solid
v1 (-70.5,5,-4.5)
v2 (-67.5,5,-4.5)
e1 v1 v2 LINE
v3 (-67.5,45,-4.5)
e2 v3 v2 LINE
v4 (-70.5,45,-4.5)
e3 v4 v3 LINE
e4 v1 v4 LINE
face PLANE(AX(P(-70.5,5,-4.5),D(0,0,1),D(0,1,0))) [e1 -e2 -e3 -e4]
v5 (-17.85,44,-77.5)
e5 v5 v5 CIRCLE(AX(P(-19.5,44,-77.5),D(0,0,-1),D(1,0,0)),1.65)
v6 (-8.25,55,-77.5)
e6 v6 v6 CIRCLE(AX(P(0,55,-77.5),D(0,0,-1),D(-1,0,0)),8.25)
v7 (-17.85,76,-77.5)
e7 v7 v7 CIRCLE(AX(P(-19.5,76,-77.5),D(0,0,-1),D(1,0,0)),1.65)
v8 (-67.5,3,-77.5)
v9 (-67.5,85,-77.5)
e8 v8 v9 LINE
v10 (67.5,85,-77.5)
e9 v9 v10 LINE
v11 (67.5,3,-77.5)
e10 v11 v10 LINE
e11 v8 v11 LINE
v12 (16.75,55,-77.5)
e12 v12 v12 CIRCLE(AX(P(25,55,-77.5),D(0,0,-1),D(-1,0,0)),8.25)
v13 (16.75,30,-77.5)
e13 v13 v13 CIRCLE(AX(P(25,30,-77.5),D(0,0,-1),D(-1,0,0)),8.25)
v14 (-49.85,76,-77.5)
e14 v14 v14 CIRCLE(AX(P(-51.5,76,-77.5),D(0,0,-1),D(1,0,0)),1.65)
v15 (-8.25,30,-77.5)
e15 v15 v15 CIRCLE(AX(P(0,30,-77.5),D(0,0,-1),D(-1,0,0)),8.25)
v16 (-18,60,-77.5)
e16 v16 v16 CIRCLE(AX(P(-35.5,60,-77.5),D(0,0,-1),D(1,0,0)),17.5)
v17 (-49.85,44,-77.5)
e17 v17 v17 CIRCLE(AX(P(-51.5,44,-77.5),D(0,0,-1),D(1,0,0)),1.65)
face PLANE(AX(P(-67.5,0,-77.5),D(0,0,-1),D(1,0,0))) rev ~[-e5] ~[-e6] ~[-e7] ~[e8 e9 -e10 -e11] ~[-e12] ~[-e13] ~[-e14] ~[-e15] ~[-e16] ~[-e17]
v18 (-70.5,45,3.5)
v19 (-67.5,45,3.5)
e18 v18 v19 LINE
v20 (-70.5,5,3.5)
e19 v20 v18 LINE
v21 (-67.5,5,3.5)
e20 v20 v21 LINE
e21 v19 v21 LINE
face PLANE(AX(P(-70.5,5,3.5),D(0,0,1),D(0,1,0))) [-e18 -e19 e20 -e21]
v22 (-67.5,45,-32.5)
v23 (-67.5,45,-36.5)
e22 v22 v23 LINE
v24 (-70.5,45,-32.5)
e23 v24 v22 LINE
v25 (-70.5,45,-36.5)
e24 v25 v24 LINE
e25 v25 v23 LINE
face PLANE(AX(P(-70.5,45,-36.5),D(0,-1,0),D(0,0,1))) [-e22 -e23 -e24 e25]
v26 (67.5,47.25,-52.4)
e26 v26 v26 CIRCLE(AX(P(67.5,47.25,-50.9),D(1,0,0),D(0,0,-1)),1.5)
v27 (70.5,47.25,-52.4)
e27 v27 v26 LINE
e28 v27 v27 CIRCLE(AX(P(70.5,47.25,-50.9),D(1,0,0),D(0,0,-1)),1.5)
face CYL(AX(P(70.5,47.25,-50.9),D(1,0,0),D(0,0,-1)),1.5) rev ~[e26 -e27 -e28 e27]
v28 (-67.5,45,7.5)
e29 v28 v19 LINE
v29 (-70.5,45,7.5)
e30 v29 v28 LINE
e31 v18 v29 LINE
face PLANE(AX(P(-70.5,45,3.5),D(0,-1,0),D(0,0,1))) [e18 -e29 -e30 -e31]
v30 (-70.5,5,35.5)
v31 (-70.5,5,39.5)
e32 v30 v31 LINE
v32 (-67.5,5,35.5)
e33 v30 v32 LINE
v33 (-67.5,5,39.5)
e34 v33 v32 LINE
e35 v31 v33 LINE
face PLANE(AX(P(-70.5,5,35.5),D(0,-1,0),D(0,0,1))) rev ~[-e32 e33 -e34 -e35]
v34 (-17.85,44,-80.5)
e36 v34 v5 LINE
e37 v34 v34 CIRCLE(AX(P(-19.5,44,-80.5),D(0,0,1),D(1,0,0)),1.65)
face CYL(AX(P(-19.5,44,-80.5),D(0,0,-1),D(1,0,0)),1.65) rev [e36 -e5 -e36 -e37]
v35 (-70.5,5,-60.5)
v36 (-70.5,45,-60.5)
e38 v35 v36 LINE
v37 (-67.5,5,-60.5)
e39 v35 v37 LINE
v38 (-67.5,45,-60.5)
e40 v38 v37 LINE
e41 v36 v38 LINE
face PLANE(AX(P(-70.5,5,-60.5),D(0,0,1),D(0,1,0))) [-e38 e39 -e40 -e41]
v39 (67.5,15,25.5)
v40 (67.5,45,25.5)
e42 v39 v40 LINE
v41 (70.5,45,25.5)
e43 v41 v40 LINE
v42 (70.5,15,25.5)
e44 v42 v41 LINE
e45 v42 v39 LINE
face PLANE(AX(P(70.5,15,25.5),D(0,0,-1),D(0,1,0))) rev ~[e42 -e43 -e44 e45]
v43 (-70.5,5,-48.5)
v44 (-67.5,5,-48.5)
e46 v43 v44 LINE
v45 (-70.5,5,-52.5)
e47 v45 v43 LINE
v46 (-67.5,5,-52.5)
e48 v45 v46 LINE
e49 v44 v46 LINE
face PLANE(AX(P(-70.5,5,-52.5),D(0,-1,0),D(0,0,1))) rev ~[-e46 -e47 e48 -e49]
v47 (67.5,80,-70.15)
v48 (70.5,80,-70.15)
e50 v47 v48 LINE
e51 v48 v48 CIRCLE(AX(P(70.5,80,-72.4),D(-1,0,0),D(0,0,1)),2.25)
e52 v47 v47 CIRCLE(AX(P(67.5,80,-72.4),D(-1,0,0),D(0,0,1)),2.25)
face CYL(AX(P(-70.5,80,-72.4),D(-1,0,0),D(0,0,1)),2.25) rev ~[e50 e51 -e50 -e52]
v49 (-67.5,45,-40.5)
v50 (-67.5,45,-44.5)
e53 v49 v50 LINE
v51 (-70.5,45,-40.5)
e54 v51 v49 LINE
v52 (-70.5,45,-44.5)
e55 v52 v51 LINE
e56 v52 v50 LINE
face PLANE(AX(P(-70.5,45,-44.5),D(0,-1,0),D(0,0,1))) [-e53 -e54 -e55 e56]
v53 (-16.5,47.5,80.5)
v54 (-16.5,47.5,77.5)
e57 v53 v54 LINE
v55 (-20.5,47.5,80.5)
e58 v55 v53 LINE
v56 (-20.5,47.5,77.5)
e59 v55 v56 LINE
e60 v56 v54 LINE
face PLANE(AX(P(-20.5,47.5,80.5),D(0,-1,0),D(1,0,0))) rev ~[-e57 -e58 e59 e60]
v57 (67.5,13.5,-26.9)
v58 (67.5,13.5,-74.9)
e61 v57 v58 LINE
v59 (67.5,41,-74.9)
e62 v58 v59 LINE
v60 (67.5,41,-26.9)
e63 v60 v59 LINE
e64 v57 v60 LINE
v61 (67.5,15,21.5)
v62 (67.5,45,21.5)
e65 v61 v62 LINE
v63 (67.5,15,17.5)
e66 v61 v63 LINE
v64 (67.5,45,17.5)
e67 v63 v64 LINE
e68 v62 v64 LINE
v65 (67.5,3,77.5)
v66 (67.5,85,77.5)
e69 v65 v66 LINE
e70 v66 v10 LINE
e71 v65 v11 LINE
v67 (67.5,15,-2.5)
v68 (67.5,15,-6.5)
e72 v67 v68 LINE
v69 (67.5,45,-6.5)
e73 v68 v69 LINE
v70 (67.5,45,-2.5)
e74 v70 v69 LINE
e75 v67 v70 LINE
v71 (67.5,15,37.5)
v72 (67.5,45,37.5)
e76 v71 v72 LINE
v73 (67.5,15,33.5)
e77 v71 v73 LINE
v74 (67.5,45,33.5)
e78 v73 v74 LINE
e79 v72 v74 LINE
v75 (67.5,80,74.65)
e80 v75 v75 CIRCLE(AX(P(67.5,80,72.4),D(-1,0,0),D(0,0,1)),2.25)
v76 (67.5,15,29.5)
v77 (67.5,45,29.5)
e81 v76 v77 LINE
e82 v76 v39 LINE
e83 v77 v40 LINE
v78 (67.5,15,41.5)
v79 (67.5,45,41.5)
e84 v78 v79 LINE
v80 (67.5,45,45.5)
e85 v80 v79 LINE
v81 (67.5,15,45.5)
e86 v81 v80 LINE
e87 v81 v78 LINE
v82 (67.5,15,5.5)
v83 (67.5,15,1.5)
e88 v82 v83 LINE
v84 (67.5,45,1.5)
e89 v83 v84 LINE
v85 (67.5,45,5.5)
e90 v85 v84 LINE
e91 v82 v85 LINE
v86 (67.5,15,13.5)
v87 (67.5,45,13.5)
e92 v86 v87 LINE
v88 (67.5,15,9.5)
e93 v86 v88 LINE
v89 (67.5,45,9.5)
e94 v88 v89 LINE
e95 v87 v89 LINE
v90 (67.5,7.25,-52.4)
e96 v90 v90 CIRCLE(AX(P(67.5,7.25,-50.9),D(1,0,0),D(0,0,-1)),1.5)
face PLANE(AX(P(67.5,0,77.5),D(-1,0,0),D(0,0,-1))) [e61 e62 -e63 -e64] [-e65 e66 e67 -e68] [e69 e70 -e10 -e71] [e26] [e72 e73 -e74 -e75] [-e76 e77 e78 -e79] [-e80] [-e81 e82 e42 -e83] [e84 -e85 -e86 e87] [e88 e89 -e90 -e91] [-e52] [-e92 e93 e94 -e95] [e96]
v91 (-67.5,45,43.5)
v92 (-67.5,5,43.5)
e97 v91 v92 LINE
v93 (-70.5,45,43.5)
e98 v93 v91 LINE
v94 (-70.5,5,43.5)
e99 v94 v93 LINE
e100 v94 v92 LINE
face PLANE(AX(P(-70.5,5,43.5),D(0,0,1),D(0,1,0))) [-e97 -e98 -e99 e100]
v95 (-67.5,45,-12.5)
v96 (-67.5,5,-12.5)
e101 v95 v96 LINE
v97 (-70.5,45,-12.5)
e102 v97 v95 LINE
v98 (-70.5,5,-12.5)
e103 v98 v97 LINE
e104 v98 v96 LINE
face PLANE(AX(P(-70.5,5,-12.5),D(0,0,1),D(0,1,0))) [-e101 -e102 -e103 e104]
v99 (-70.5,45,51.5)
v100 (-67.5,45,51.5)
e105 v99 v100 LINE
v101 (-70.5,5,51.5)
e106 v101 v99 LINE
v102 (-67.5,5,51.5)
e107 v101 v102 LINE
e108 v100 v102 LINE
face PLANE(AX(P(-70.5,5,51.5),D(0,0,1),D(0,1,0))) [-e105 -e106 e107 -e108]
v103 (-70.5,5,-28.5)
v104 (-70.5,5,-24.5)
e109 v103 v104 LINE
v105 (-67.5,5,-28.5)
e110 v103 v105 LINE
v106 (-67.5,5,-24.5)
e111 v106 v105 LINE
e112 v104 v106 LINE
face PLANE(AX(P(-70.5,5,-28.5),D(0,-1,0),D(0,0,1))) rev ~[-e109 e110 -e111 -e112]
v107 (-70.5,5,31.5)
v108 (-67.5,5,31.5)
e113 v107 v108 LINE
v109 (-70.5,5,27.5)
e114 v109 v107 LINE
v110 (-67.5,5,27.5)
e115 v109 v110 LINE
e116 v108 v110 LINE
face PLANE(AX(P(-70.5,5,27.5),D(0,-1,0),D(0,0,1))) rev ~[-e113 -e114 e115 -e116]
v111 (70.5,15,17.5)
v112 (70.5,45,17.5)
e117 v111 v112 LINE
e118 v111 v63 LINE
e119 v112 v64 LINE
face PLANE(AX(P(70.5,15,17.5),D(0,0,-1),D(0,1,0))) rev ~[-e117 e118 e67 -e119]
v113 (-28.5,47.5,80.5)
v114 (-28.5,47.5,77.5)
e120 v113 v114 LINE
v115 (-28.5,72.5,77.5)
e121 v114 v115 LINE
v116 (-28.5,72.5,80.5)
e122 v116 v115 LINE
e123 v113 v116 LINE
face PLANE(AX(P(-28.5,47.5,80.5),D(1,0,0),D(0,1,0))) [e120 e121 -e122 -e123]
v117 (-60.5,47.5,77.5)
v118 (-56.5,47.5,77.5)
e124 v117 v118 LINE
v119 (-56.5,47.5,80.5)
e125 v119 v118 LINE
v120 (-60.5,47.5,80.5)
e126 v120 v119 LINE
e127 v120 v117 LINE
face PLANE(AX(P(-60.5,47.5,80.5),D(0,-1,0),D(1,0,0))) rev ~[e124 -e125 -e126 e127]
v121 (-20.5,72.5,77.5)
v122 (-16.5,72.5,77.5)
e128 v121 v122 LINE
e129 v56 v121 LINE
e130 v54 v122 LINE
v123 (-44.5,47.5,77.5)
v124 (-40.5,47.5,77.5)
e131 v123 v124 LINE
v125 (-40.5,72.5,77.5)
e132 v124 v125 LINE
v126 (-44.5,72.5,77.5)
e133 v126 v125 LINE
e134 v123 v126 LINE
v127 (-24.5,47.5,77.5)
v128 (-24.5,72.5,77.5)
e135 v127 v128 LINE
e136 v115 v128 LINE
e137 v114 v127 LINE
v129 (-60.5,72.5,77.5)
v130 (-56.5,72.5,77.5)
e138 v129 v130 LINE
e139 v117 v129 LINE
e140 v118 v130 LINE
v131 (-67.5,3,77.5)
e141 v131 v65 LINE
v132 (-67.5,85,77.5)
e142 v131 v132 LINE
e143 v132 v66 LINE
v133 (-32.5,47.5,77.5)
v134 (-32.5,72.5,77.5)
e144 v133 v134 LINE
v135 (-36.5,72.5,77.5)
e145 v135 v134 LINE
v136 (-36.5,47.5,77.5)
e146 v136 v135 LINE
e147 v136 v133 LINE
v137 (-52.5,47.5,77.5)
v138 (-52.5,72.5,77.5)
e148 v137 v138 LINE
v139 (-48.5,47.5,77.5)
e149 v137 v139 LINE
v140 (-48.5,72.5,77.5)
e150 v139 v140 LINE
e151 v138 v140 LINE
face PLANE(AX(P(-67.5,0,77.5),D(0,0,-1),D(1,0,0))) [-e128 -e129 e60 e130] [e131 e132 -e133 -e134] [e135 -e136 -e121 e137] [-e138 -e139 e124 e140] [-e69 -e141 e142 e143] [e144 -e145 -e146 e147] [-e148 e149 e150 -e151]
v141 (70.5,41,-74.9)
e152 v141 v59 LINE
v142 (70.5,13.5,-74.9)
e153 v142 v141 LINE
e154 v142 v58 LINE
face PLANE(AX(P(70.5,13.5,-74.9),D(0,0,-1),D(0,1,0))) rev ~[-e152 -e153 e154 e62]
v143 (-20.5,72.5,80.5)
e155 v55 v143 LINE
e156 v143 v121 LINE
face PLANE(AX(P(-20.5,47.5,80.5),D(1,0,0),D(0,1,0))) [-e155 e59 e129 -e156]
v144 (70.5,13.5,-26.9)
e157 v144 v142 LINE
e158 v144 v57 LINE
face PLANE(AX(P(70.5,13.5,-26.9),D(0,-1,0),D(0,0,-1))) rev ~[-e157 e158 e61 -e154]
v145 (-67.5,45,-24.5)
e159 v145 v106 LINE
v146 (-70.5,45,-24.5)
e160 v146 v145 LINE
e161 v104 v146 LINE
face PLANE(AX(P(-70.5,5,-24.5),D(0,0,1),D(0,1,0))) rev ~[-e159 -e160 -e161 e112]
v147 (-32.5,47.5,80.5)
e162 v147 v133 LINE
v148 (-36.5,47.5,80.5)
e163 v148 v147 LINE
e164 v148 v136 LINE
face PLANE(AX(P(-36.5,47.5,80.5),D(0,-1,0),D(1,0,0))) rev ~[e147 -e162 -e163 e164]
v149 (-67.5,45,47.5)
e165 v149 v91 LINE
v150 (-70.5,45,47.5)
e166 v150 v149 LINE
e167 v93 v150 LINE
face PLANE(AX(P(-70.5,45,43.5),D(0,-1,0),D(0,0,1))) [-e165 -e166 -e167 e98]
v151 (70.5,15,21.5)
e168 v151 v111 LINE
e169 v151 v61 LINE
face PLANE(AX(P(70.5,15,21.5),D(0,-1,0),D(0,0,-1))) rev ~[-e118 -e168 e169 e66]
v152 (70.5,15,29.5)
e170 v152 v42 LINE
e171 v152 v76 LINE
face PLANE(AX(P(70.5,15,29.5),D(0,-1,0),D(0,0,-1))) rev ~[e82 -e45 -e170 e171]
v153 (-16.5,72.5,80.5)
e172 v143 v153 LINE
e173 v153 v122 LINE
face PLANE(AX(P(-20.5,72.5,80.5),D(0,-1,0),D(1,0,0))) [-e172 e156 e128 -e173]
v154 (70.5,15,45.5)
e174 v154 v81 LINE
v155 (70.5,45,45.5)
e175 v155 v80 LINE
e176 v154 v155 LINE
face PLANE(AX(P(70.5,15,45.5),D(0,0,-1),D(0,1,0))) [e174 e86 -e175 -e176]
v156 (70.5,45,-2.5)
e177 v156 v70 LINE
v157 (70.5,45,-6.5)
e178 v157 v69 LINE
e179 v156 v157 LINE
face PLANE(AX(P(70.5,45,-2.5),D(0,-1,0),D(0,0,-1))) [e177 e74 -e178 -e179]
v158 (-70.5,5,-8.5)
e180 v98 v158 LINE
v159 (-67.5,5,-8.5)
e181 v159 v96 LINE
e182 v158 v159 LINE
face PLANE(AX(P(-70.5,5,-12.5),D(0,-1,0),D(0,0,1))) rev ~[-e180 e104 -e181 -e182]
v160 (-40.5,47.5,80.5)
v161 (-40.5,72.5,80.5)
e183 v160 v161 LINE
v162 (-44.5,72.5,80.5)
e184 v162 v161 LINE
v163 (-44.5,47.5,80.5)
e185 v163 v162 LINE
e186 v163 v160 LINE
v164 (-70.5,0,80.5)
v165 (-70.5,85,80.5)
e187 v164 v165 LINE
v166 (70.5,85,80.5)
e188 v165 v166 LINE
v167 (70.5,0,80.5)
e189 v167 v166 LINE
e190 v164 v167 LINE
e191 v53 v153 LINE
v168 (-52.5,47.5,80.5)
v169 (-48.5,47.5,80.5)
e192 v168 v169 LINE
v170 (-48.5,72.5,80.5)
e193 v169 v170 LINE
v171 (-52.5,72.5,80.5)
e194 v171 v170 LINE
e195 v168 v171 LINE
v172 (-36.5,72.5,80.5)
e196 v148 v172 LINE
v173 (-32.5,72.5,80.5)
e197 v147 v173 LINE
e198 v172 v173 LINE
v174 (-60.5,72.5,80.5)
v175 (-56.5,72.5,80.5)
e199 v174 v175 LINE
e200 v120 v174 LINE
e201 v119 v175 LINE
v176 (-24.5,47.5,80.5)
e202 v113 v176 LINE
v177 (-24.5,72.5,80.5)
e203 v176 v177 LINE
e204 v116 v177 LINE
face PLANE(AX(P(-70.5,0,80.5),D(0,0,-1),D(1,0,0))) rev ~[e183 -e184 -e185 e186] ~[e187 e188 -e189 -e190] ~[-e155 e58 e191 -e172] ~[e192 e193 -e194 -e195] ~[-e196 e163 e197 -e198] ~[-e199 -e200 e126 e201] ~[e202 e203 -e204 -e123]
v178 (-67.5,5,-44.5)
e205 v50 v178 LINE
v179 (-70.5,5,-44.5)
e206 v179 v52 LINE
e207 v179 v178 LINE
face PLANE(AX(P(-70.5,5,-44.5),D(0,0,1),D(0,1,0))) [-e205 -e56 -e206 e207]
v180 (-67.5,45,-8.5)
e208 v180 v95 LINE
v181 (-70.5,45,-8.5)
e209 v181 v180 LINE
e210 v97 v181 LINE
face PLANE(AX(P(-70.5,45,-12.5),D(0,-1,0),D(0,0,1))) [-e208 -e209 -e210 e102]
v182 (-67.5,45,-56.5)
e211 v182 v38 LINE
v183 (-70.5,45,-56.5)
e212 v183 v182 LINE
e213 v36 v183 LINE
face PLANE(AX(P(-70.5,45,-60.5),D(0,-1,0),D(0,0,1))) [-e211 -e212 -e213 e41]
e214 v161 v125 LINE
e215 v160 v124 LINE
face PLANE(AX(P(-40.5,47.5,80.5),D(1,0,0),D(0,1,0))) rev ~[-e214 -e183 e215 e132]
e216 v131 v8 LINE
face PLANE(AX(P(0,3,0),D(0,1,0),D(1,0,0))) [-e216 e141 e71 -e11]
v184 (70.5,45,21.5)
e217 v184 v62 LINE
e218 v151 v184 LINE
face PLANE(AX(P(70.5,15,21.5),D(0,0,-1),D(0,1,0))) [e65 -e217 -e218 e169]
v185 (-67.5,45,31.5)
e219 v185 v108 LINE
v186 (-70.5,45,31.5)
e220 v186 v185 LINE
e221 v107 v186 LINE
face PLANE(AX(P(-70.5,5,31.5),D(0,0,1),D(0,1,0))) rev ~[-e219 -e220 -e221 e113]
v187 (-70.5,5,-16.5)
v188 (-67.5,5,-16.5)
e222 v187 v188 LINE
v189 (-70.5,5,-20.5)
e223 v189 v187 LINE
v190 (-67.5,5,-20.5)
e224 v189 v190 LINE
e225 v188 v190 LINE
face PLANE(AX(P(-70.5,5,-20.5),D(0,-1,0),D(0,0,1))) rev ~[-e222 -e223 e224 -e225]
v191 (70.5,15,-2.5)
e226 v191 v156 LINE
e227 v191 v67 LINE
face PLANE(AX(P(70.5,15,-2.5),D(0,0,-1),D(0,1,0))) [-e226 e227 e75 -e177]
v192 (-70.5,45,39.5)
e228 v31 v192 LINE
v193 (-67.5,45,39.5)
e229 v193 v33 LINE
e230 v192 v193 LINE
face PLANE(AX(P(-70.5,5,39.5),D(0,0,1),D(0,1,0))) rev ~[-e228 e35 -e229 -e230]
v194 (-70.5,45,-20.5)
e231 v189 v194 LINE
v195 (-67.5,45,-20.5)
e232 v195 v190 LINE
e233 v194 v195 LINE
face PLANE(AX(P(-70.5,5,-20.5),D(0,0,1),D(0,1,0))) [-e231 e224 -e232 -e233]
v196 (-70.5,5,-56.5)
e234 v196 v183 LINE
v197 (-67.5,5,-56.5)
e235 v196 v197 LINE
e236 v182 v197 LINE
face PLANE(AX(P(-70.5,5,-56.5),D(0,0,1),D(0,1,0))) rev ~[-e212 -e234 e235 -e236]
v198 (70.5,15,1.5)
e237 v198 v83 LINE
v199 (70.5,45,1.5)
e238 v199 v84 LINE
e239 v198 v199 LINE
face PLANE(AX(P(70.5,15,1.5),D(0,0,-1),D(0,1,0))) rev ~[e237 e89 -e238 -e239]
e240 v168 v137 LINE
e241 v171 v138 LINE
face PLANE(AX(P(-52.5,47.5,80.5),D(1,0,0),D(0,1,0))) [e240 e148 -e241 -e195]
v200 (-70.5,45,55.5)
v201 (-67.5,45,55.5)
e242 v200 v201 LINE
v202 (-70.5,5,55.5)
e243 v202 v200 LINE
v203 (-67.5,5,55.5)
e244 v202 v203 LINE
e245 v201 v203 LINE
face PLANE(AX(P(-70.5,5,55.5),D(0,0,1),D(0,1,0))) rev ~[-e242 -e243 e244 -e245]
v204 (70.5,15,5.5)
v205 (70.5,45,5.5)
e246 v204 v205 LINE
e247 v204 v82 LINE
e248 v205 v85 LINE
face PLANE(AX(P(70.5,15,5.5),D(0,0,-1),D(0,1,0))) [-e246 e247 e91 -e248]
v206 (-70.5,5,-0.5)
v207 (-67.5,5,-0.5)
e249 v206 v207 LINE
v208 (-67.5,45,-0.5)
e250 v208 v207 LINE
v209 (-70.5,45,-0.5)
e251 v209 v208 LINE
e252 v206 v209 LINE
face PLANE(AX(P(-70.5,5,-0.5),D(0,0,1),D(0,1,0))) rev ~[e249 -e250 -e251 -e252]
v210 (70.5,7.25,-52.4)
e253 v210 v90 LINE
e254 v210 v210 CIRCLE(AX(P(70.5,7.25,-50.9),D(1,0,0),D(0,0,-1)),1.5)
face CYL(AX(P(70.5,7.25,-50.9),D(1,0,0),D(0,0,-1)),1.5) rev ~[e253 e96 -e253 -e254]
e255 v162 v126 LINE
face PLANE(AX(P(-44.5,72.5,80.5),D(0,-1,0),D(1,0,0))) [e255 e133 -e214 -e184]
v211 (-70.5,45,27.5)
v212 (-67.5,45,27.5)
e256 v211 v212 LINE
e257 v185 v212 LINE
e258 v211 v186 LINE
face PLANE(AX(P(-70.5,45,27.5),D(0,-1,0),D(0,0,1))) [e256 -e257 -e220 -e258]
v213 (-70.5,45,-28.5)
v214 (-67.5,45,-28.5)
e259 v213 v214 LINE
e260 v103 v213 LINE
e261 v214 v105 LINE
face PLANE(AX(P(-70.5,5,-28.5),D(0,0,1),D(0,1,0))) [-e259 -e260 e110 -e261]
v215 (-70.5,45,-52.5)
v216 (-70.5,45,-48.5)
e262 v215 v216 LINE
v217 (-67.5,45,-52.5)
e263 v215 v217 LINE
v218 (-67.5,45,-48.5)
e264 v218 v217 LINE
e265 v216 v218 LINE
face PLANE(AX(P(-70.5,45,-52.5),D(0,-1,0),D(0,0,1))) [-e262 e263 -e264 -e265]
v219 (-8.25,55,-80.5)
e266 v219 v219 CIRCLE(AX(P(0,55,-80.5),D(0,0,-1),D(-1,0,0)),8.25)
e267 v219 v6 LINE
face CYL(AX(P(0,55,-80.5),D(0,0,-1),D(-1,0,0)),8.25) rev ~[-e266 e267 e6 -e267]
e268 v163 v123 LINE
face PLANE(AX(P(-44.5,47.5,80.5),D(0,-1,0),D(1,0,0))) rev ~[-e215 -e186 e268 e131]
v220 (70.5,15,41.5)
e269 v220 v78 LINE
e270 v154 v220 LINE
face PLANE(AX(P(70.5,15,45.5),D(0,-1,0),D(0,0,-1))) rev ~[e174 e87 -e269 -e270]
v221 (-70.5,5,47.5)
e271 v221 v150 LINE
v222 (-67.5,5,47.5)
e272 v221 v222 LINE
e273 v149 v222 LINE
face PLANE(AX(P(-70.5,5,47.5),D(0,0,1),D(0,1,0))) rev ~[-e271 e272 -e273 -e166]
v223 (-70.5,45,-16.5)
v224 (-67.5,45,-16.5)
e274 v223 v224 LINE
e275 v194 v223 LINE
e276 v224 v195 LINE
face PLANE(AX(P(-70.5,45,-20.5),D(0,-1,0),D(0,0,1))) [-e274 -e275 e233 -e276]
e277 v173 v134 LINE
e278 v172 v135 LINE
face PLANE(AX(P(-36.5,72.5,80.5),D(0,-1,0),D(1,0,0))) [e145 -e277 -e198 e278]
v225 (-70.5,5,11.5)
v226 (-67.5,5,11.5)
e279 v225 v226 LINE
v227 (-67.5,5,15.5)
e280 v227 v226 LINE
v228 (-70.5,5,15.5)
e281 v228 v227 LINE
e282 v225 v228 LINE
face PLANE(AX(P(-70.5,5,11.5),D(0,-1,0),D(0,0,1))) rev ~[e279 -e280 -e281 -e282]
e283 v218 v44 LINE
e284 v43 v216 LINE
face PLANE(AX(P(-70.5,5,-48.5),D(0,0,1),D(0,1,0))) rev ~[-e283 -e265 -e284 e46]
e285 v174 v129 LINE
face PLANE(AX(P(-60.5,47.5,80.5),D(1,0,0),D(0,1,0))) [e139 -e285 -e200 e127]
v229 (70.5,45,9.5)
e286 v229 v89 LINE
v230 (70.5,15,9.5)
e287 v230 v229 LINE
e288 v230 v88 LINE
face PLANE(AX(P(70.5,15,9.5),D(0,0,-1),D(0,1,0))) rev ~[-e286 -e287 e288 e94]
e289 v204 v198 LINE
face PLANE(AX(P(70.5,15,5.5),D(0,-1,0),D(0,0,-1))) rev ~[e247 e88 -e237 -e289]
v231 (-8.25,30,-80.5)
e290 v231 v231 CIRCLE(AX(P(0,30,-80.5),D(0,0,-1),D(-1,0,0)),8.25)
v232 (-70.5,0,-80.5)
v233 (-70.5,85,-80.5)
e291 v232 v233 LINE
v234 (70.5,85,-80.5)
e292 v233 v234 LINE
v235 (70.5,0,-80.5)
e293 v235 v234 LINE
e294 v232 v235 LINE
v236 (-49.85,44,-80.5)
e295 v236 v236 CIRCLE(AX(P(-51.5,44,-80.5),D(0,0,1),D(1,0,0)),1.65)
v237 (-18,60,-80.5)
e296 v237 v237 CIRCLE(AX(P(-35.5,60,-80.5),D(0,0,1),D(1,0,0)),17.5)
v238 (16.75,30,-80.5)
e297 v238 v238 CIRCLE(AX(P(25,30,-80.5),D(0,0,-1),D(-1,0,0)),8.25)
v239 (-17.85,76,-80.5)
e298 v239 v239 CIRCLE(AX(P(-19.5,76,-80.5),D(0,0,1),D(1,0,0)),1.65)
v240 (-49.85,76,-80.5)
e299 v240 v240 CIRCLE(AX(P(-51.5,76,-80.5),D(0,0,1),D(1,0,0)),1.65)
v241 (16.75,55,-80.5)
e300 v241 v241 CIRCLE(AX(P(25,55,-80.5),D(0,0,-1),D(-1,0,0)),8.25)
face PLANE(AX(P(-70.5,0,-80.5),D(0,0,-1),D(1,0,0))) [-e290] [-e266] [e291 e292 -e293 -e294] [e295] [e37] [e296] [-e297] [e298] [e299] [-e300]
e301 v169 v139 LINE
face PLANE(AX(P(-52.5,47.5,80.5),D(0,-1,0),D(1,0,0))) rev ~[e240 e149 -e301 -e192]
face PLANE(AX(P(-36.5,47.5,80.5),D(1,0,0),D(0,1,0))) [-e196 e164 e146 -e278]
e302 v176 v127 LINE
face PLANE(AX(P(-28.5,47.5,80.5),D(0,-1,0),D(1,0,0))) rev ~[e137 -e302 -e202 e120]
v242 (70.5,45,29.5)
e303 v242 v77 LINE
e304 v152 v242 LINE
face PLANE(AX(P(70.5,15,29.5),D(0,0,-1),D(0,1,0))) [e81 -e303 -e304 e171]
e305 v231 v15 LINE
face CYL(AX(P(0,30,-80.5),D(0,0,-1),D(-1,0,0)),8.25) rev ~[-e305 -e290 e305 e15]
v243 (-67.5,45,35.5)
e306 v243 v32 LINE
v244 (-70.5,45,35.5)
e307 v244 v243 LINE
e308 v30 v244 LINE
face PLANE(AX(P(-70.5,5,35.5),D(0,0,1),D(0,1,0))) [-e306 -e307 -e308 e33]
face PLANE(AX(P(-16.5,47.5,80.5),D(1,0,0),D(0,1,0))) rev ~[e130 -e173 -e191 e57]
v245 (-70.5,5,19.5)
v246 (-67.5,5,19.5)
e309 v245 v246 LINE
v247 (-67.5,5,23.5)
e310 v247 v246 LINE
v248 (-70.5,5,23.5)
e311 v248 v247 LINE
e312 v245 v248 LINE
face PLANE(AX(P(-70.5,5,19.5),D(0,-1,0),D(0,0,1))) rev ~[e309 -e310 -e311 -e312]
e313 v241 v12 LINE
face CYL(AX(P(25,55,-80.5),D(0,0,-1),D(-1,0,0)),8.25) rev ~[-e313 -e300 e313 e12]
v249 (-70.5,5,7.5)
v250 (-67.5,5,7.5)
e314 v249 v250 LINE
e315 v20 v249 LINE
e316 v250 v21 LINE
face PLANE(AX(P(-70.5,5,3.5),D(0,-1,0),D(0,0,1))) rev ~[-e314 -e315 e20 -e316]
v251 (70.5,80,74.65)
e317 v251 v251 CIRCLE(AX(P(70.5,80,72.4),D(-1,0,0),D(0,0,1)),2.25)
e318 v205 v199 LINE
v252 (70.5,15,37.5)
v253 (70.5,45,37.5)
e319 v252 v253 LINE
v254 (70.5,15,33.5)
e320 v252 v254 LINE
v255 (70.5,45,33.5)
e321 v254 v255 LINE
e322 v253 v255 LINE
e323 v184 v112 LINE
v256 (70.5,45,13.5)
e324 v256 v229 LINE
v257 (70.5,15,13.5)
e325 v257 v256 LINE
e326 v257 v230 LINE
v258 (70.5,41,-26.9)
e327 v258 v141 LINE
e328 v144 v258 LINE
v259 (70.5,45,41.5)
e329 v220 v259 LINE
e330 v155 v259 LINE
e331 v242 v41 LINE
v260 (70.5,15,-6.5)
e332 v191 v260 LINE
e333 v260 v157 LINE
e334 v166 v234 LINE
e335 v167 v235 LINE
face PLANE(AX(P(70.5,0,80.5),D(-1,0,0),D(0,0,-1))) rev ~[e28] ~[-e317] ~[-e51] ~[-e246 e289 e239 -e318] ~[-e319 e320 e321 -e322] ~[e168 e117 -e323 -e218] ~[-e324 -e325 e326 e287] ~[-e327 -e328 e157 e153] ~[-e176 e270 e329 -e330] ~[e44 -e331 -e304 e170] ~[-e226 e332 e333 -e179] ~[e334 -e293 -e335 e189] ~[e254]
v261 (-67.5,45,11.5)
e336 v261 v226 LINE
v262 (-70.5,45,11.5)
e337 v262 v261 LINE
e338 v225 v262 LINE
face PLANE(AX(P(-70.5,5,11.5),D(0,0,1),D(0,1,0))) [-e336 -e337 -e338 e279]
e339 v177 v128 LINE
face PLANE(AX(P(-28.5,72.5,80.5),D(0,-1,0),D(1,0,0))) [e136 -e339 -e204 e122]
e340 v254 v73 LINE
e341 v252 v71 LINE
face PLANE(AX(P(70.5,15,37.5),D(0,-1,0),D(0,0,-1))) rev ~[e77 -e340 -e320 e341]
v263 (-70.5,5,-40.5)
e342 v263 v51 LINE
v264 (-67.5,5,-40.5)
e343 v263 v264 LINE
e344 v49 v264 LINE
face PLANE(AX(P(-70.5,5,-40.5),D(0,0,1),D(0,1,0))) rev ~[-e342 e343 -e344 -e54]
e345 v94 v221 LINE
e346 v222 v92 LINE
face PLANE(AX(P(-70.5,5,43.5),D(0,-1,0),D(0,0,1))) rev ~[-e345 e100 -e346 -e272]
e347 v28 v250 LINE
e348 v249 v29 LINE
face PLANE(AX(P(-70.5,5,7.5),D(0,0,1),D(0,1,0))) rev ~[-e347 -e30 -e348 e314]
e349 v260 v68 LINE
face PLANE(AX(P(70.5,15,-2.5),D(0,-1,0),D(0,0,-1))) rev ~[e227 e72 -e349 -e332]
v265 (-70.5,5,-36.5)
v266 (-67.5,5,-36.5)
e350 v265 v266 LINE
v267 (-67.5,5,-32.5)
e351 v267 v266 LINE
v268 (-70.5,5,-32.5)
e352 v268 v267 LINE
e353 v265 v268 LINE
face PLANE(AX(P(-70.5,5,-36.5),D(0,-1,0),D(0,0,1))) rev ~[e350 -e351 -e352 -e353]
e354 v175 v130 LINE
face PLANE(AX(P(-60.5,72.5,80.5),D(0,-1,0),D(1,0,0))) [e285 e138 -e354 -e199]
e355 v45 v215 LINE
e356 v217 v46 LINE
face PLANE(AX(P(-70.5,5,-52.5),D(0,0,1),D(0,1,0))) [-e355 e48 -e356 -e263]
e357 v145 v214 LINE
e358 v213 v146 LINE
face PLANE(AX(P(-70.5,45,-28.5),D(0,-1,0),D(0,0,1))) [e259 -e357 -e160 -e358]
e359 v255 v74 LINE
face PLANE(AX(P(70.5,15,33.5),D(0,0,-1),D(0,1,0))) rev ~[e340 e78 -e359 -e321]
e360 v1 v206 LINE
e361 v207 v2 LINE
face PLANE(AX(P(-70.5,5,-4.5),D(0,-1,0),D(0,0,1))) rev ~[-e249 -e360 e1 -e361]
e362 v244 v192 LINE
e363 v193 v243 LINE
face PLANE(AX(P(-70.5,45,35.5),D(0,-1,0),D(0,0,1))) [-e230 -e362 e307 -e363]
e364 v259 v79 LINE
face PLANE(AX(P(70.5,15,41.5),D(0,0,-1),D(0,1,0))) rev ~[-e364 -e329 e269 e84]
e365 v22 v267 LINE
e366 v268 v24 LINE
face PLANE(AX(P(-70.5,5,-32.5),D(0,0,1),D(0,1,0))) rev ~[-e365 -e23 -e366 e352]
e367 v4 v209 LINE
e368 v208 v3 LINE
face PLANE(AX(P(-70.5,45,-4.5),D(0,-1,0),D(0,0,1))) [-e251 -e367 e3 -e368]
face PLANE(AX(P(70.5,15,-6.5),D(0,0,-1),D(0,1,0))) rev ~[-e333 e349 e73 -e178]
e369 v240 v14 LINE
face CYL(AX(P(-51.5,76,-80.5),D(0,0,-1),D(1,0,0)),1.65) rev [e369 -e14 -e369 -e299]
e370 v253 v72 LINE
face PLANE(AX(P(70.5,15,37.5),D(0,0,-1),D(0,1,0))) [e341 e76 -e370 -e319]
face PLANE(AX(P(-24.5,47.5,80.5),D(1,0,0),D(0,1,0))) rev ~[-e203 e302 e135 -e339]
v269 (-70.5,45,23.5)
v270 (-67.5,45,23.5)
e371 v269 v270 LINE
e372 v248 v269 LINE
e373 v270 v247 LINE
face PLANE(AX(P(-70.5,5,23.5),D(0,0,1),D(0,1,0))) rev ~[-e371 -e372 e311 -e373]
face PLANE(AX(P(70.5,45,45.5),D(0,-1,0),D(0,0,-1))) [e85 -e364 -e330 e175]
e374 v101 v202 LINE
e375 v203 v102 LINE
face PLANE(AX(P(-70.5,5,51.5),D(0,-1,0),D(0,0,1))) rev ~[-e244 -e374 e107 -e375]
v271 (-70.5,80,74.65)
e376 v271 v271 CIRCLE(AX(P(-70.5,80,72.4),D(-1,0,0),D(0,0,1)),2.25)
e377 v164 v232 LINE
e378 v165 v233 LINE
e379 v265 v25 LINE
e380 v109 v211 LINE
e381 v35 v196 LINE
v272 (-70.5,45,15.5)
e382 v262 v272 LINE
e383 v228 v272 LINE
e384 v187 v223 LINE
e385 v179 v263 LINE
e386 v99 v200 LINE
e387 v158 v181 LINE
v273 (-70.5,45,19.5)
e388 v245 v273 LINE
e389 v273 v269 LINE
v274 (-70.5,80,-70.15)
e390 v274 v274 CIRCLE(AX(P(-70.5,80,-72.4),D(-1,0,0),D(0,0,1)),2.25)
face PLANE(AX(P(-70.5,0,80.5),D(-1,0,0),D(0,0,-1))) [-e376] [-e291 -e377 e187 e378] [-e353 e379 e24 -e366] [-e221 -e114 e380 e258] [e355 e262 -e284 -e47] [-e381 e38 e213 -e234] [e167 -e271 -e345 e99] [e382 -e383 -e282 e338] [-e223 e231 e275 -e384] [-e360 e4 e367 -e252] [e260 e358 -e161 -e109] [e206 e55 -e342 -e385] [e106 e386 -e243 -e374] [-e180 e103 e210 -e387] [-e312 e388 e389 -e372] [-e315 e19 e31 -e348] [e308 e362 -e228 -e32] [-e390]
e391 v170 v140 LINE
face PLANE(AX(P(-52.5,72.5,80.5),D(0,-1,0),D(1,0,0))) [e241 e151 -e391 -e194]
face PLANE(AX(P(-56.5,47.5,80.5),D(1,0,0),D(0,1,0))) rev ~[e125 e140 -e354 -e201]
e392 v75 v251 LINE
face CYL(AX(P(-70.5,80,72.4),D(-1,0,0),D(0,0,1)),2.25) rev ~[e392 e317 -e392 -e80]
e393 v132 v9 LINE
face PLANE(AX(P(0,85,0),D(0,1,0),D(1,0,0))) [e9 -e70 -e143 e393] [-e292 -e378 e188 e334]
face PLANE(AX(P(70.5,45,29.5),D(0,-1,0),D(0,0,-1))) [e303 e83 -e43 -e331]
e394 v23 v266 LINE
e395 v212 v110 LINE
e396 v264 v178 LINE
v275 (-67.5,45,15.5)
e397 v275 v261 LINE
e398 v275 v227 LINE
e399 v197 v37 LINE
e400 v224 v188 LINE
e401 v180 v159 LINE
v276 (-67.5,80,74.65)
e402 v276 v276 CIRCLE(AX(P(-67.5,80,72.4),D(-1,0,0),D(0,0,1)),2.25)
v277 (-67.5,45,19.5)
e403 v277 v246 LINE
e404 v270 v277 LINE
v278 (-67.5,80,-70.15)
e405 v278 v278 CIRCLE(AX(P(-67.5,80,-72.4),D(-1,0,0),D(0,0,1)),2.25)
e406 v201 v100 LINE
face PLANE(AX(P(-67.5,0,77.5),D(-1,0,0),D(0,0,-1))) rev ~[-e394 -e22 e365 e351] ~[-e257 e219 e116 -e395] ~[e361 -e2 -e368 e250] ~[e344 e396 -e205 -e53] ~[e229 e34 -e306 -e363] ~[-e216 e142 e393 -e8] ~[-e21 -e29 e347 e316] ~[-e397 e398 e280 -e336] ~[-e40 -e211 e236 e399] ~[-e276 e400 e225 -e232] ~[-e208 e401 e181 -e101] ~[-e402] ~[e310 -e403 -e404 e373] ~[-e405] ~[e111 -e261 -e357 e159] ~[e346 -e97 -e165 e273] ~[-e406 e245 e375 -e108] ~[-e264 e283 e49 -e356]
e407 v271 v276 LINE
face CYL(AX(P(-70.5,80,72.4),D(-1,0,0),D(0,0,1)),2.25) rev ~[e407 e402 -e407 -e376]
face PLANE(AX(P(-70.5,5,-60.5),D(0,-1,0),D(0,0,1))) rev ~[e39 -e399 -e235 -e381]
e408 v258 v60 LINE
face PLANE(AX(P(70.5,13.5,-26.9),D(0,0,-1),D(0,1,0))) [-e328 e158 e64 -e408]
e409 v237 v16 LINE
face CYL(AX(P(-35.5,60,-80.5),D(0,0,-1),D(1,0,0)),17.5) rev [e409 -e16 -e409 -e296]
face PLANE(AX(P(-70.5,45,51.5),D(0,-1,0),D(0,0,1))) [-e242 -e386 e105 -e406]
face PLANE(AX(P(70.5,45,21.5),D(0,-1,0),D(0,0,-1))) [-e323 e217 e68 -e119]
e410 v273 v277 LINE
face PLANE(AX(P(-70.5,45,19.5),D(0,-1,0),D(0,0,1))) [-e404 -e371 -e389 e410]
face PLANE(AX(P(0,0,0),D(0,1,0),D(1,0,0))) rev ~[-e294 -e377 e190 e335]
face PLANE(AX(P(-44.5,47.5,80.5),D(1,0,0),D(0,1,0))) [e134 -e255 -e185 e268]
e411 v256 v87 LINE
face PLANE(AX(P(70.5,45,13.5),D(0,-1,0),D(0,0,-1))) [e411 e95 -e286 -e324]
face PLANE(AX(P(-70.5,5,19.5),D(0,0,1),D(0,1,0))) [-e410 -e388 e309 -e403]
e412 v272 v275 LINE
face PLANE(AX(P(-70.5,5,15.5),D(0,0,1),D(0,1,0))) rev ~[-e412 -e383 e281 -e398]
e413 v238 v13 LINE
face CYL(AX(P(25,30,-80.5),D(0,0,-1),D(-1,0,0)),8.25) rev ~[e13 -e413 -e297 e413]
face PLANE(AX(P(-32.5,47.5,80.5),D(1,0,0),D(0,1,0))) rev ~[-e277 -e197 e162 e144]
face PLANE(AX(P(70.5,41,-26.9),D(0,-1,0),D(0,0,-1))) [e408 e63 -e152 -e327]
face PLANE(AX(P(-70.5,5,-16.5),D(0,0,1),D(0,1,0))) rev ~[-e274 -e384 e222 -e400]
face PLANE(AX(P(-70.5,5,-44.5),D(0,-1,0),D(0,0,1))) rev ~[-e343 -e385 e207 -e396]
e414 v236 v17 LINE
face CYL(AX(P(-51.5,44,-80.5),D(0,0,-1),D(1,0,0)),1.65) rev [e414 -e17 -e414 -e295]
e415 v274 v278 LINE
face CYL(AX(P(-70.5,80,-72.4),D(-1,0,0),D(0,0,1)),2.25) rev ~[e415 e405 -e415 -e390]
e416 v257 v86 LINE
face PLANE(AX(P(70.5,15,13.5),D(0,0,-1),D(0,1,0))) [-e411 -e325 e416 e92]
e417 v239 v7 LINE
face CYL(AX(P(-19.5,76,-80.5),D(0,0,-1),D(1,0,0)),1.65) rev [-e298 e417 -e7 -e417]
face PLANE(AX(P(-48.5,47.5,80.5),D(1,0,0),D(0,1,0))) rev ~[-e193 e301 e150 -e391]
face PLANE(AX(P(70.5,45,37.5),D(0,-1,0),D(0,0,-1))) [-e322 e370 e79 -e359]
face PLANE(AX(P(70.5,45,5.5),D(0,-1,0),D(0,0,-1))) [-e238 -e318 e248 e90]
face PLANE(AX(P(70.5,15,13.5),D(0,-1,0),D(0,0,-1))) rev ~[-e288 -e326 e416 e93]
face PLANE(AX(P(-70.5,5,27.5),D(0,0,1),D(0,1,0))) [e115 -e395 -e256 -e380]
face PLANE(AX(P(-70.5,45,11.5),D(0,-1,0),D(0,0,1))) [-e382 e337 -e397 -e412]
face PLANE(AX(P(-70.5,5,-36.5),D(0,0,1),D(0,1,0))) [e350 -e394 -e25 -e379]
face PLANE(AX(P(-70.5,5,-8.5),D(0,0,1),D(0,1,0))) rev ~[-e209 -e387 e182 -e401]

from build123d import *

# Parameters (mm, degrees)
SKETCH1_W                      = 135
SKETCH1_H                      = 155
BOSS_EXTRUDE1_DEPTH            = 3
SKETCH3_W                      = 141
SKETCH3_H                      = 161
SKETCH3_W_2                    = 135
SKETCH3_H_2                    = 155
BOSS_EXTRUDE3_DEPTH            = 85
CUT_EXTRUDE1_REACH             = 143
SKETCH4_W                      = 4
SKETCH4_H                      = 40
CUT_EXTRUDE2_REACH             = 163
SKETCH5_R                      = 17.5
SKETCH5_R_2                    = 1.65
CUT_EXTRUDE3_REACH             = 143
SKETCH6_R                      = 1.5
SKETCH6_W                      = 48
SKETCH6_H                      = 27.5
CUT_EXTRUDE3_DIRECTION_2_DEPTH = 1
CUT_EXTRUDE4_REACH             = 163
SKETCH7_R                      = 8.25
CUT_EXTRUDE5_REACH             = 143
SKETCH8_W                      = 4
SKETCH8_H                      = 30
CUT_EXTRUDE6_REACH             = 163
SKETCH9_W                      = 4
SKETCH9_H                      = 25
SKETCH11_R                     = 2.25
CUT_EXTRUDE7_DEPTH             = 142


with BuildPart() as part:
    # Sketch1 → Boss-Extrude1 (new body)
    with BuildSketch(Plane(origin=(0, 0, 0), x_dir=(1, 0, 0), z_dir=(0, 1, 0))):
        Rectangle(SKETCH1_W, SKETCH1_H)
    extrude(amount=BOSS_EXTRUDE1_DEPTH)

    # Sketch3 → Boss-Extrude3 (add)
    with BuildSketch(Plane(origin=(0, 0, 0), x_dir=(1, 0, 0), z_dir=(0, 1, 0))):
        Rectangle(SKETCH3_W, SKETCH3_H)
        Rectangle(SKETCH3_W_2, SKETCH3_H_2, mode=Mode.SUBTRACT)
    extrude(amount=BOSS_EXTRUDE3_DEPTH)

    # Sketch4 → Cut-Extrude1 (cut, up to next)
    with BuildSketch(Plane.ZY.offset(70.5), mode=Mode.PRIVATE) as cut_extrude1_sk1:
        with Locations((-50.5, 25)):
            Rectangle(SKETCH4_W, SKETCH4_H)
    cut_extrude1_tool1 = extrude(cut_extrude1_sk1.sketch, amount=-CUT_EXTRUDE1_REACH, mode=Mode.PRIVATE) & part.part
    add(cut_extrude1_tool1.solids().sort_by_distance((-70.5, 25, -50.5))[0], mode=Mode.SUBTRACT)
    # Sketch4 → Cut-Extrude1 (cut, up to next)
    with BuildSketch(Plane.ZY.offset(70.5), mode=Mode.PRIVATE) as cut_extrude1_sk2:
        with Locations((-58.5, 25)):
            Rectangle(SKETCH4_W, SKETCH4_H)
    cut_extrude1_tool2 = extrude(cut_extrude1_sk2.sketch, amount=-CUT_EXTRUDE1_REACH, mode=Mode.PRIVATE) & part.part
    add(cut_extrude1_tool2.solids().sort_by_distance((-70.5, 25, -58.5))[0], mode=Mode.SUBTRACT)
    # Sketch4 → Cut-Extrude1 (cut, up to next)
    with BuildSketch(Plane.ZY.offset(70.5), mode=Mode.PRIVATE) as cut_extrude1_sk3:
        with Locations((-42.5, 25)):
            Rectangle(SKETCH4_W, SKETCH4_H)
    cut_extrude1_tool3 = extrude(cut_extrude1_sk3.sketch, amount=-CUT_EXTRUDE1_REACH, mode=Mode.PRIVATE) & part.part
    add(cut_extrude1_tool3.solids().sort_by_distance((-70.5, 25, -42.5))[0], mode=Mode.SUBTRACT)
    # Sketch4 → Cut-Extrude1 (cut, up to next)
    with BuildSketch(Plane.ZY.offset(70.5), mode=Mode.PRIVATE) as cut_extrude1_sk4:
        with Locations((-34.5, 25)):
            Rectangle(SKETCH4_W, SKETCH4_H)
    cut_extrude1_tool4 = extrude(cut_extrude1_sk4.sketch, amount=-CUT_EXTRUDE1_REACH, mode=Mode.PRIVATE) & part.part
    add(cut_extrude1_tool4.solids().sort_by_distance((-70.5, 25, -34.5))[0], mode=Mode.SUBTRACT)
    # Sketch4 → Cut-Extrude1 (cut, up to next)
    with BuildSketch(Plane.ZY.offset(70.5), mode=Mode.PRIVATE) as cut_extrude1_sk5:
        with Locations((-26.5, 25)):
            Rectangle(SKETCH4_W, SKETCH4_H)
    cut_extrude1_tool5 = extrude(cut_extrude1_sk5.sketch, amount=-CUT_EXTRUDE1_REACH, mode=Mode.PRIVATE) & part.part
    add(cut_extrude1_tool5.solids().sort_by_distance((-70.5, 25, -26.5))[0], mode=Mode.SUBTRACT)
    # Sketch4 → Cut-Extrude1 (cut, up to next)
    with BuildSketch(Plane.ZY.offset(70.5), mode=Mode.PRIVATE) as cut_extrude1_sk6:
        with Locations((-18.5, 25)):
            Rectangle(SKETCH4_W, SKETCH4_H)
    cut_extrude1_tool6 = extrude(cut_extrude1_sk6.sketch, amount=-CUT_EXTRUDE1_REACH, mode=Mode.PRIVATE) & part.part
    add(cut_extrude1_tool6.solids().sort_by_distance((-70.5, 25, -18.5))[0], mode=Mode.SUBTRACT)
    # Sketch4 → Cut-Extrude1 (cut, up to next)
    with BuildSketch(Plane.ZY.offset(70.5), mode=Mode.PRIVATE) as cut_extrude1_sk7:
        with Locations((-10.5, 25)):
            Rectangle(SKETCH4_W, SKETCH4_H)
    cut_extrude1_tool7 = extrude(cut_extrude1_sk7.sketch, amount=-CUT_EXTRUDE1_REACH, mode=Mode.PRIVATE) & part.part
    add(cut_extrude1_tool7.solids().sort_by_distance((-70.5, 25, -10.5))[0], mode=Mode.SUBTRACT)
    # Sketch4 → Cut-Extrude1 (cut, up to next)
    with BuildSketch(Plane.ZY.offset(70.5), mode=Mode.PRIVATE) as cut_extrude1_sk8:
        with Locations((-2.5, 25)):
            Rectangle(SKETCH4_W, SKETCH4_H)
    cut_extrude1_tool8 = extrude(cut_extrude1_sk8.sketch, amount=-CUT_EXTRUDE1_REACH, mode=Mode.PRIVATE) & part.part
    add(cut_extrude1_tool8.solids().sort_by_distance((-70.5, 25, -2.5))[0], mode=Mode.SUBTRACT)
    # Sketch4 → Cut-Extrude1 (cut, up to next)
    with BuildSketch(Plane.ZY.offset(70.5), mode=Mode.PRIVATE) as cut_extrude1_sk9:
        with Locations((5.5, 25)):
            Rectangle(SKETCH4_W, SKETCH4_H)
    cut_extrude1_tool9 = extrude(cut_extrude1_sk9.sketch, amount=-CUT_EXTRUDE1_REACH, mode=Mode.PRIVATE) & part.part
    add(cut_extrude1_tool9.solids().sort_by_distance((-70.5, 25, 5.5))[0], mode=Mode.SUBTRACT)
    # Sketch4 → Cut-Extrude1 (cut, up to next)
    with BuildSketch(Plane.ZY.offset(70.5), mode=Mode.PRIVATE) as cut_extrude1_sk10:
        with Locations((13.5, 25)):
            Rectangle(SKETCH4_W, SKETCH4_H)
    cut_extrude1_tool10 = extrude(cut_extrude1_sk10.sketch, amount=-CUT_EXTRUDE1_REACH, mode=Mode.PRIVATE) & part.part
    add(cut_extrude1_tool10.solids().sort_by_distance((-70.5, 25, 13.5))[0], mode=Mode.SUBTRACT)
    # Sketch4 → Cut-Extrude1 (cut, up to next)
    with BuildSketch(Plane.ZY.offset(70.5), mode=Mode.PRIVATE) as cut_extrude1_sk11:
        with Locations((21.5, 25)):
            Rectangle(SKETCH4_W, SKETCH4_H)
    cut_extrude1_tool11 = extrude(cut_extrude1_sk11.sketch, amount=-CUT_EXTRUDE1_REACH, mode=Mode.PRIVATE) & part.part
    add(cut_extrude1_tool11.solids().sort_by_distance((-70.5, 25, 21.5))[0], mode=Mode.SUBTRACT)
    # Sketch4 → Cut-Extrude1 (cut, up to next)
    with BuildSketch(Plane.ZY.offset(70.5), mode=Mode.PRIVATE) as cut_extrude1_sk12:
        with Locations((29.5, 25)):
            Rectangle(SKETCH4_W, SKETCH4_H)
    cut_extrude1_tool12 = extrude(cut_extrude1_sk12.sketch, amount=-CUT_EXTRUDE1_REACH, mode=Mode.PRIVATE) & part.part
    add(cut_extrude1_tool12.solids().sort_by_distance((-70.5, 25, 29.5))[0], mode=Mode.SUBTRACT)
    # Sketch4 → Cut-Extrude1 (cut, up to next)
    with BuildSketch(Plane.ZY.offset(70.5), mode=Mode.PRIVATE) as cut_extrude1_sk13:
        with Locations((37.5, 25)):
            Rectangle(SKETCH4_W, SKETCH4_H)
    cut_extrude1_tool13 = extrude(cut_extrude1_sk13.sketch, amount=-CUT_EXTRUDE1_REACH, mode=Mode.PRIVATE) & part.part
    add(cut_extrude1_tool13.solids().sort_by_distance((-70.5, 25, 37.5))[0], mode=Mode.SUBTRACT)
    # Sketch4 → Cut-Extrude1 (cut, up to next)
    with BuildSketch(Plane.ZY.offset(70.5), mode=Mode.PRIVATE) as cut_extrude1_sk14:
        with Locations((45.5, 25)):
            Rectangle(SKETCH4_W, SKETCH4_H)
    cut_extrude1_tool14 = extrude(cut_extrude1_sk14.sketch, amount=-CUT_EXTRUDE1_REACH, mode=Mode.PRIVATE) & part.part
    add(cut_extrude1_tool14.solids().sort_by_distance((-70.5, 25, 45.5))[0], mode=Mode.SUBTRACT)
    # Sketch4 → Cut-Extrude1 (cut, up to next)
    with BuildSketch(Plane.ZY.offset(70.5), mode=Mode.PRIVATE) as cut_extrude1_sk15:
        with Locations((53.5, 25)):
            Rectangle(SKETCH4_W, SKETCH4_H)
    cut_extrude1_tool15 = extrude(cut_extrude1_sk15.sketch, amount=-CUT_EXTRUDE1_REACH, mode=Mode.PRIVATE) & part.part
    add(cut_extrude1_tool15.solids().sort_by_distance((-70.5, 25, 53.5))[0], mode=Mode.SUBTRACT)

    # Sketch5 → Cut-Extrude2 (cut, up to next)
    with BuildSketch(Plane.XY.offset(-80.5), mode=Mode.PRIVATE) as cut_extrude2_sk1:
        with Locations((-35.5, 60)):
            Circle(SKETCH5_R)
    cut_extrude2_tool1 = extrude(cut_extrude2_sk1.sketch, amount=CUT_EXTRUDE2_REACH, mode=Mode.PRIVATE) & part.part
    add(cut_extrude2_tool1.solids().sort_by_distance((-35.5, 60, -80.5))[0], mode=Mode.SUBTRACT)
    # Sketch5 → Cut-Extrude2 (cut, up to next)
    with BuildSketch(Plane.XY.offset(-80.5), mode=Mode.PRIVATE) as cut_extrude2_sk2:
        with Locations((-51.5, 44)):
            Circle(SKETCH5_R_2)
    cut_extrude2_tool2 = extrude(cut_extrude2_sk2.sketch, amount=CUT_EXTRUDE2_REACH, mode=Mode.PRIVATE) & part.part
    add(cut_extrude2_tool2.solids().sort_by_distance((-51.5, 44, -80.5))[0], mode=Mode.SUBTRACT)
    # Sketch5 → Cut-Extrude2 (cut, up to next)
    with BuildSketch(Plane.XY.offset(-80.5), mode=Mode.PRIVATE) as cut_extrude2_sk3:
        with Locations((-19.5, 44)):
            Circle(SKETCH5_R_2)
    cut_extrude2_tool3 = extrude(cut_extrude2_sk3.sketch, amount=CUT_EXTRUDE2_REACH, mode=Mode.PRIVATE) & part.part
    add(cut_extrude2_tool3.solids().sort_by_distance((-19.5, 44, -80.5))[0], mode=Mode.SUBTRACT)
    # Sketch5 → Cut-Extrude2 (cut, up to next)
    with BuildSketch(Plane.XY.offset(-80.5), mode=Mode.PRIVATE) as cut_extrude2_sk4:
        with Locations((-19.5, 76)):
            Circle(SKETCH5_R_2)
    cut_extrude2_tool4 = extrude(cut_extrude2_sk4.sketch, amount=CUT_EXTRUDE2_REACH, mode=Mode.PRIVATE) & part.part
    add(cut_extrude2_tool4.solids().sort_by_distance((-19.5, 76, -80.5))[0], mode=Mode.SUBTRACT)
    # Sketch5 → Cut-Extrude2 (cut, up to next)
    with BuildSketch(Plane.XY.offset(-80.5), mode=Mode.PRIVATE) as cut_extrude2_sk5:
        with Locations((-51.5, 76)):
            Circle(SKETCH5_R_2)
    cut_extrude2_tool5 = extrude(cut_extrude2_sk5.sketch, amount=CUT_EXTRUDE2_REACH, mode=Mode.PRIVATE) & part.part
    add(cut_extrude2_tool5.solids().sort_by_distance((-51.5, 76, -80.5))[0], mode=Mode.SUBTRACT)

    # Sketch6 → Cut-Extrude3 (cut, up to next)
    with BuildSketch(Plane(origin=(70.5, 0, 0), x_dir=(0, 0, -1), z_dir=(1, 0, 0)), mode=Mode.PRIVATE) as cut_extrude3_sk1:
        with Locations((50.9, 47.25)):
            Circle(SKETCH6_R)
    cut_extrude3_tool1 = extrude(cut_extrude3_sk1.sketch, amount=-CUT_EXTRUDE3_REACH, mode=Mode.PRIVATE) & part.part
    add(cut_extrude3_tool1.solids().sort_by_distance((70.5, 47.25, -50.9))[0], mode=Mode.SUBTRACT)
    # Sketch6 → Cut-Extrude3 (cut, up to next)
    with BuildSketch(Plane(origin=(70.5, 0, 0), x_dir=(0, 0, -1), z_dir=(1, 0, 0)), mode=Mode.PRIVATE) as cut_extrude3_sk2:
        with Locations((50.9, 7.25)):
            Circle(SKETCH6_R)
    cut_extrude3_tool2 = extrude(cut_extrude3_sk2.sketch, amount=-CUT_EXTRUDE3_REACH, mode=Mode.PRIVATE) & part.part
    add(cut_extrude3_tool2.solids().sort_by_distance((70.5, 7.25, -50.9))[0], mode=Mode.SUBTRACT)
    # Sketch6 → Cut-Extrude3 (cut, up to next)
    with BuildSketch(Plane(origin=(70.5, 0, 0), x_dir=(0, 0, -1), z_dir=(1, 0, 0)), mode=Mode.PRIVATE) as cut_extrude3_sk3:
        with Locations((50.9, 27.25)):
            Rectangle(SKETCH6_W, SKETCH6_H)
    cut_extrude3_tool3 = extrude(cut_extrude3_sk3.sketch, amount=-CUT_EXTRUDE3_REACH, mode=Mode.PRIVATE) & part.part
    add(cut_extrude3_tool3.solids().sort_by_distance((70.5, 27.25, -50.9))[0], mode=Mode.SUBTRACT)

    # Sketch6 → Cut-Extrude3 direction 2 (cut)
    with BuildSketch(Plane(origin=(70.5, 0, 0), x_dir=(0, 0, -1), z_dir=(1, 0, 0))):
        with Locations((50.9, 47.25)):
            Circle(SKETCH6_R)
        with Locations((50.9, 7.25)):
            Circle(SKETCH6_R)
        with Locations((50.9, 27.25)):
            Rectangle(SKETCH6_W, SKETCH6_H)
    extrude(amount=CUT_EXTRUDE3_DIRECTION_2_DEPTH, mode=Mode.SUBTRACT)

    # Sketch7 → Cut-Extrude4 (cut, up to next)
    with BuildSketch(Plane(origin=(0, 0, -80.5), x_dir=(-1, 0, 0), z_dir=(0, 0, -1)), mode=Mode.PRIVATE) as cut_extrude4_sk1:
        with Locations((0, 55)):
            Circle(SKETCH7_R)
    cut_extrude4_tool1 = extrude(cut_extrude4_sk1.sketch, amount=-CUT_EXTRUDE4_REACH, mode=Mode.PRIVATE) & part.part
    add(cut_extrude4_tool1.solids().sort_by_distance((0, 55, -80.5))[0], mode=Mode.SUBTRACT)
    # Sketch7 → Cut-Extrude4 (cut, up to next)
    with BuildSketch(Plane(origin=(0, 0, -80.5), x_dir=(-1, 0, 0), z_dir=(0, 0, -1)), mode=Mode.PRIVATE) as cut_extrude4_sk2:
        with Locations((-25, 55)):
            Circle(SKETCH7_R)
    cut_extrude4_tool2 = extrude(cut_extrude4_sk2.sketch, amount=-CUT_EXTRUDE4_REACH, mode=Mode.PRIVATE) & part.part
    add(cut_extrude4_tool2.solids().sort_by_distance((25, 55, -80.5))[0], mode=Mode.SUBTRACT)
    # Sketch7 → Cut-Extrude4 (cut, up to next)
    with BuildSketch(Plane(origin=(0, 0, -80.5), x_dir=(-1, 0, 0), z_dir=(0, 0, -1)), mode=Mode.PRIVATE) as cut_extrude4_sk3:
        with Locations((0, 30)):
            Circle(SKETCH7_R)
    cut_extrude4_tool3 = extrude(cut_extrude4_sk3.sketch, amount=-CUT_EXTRUDE4_REACH, mode=Mode.PRIVATE) & part.part
    add(cut_extrude4_tool3.solids().sort_by_distance((0, 30, -80.5))[0], mode=Mode.SUBTRACT)
    # Sketch7 → Cut-Extrude4 (cut, up to next)
    with BuildSketch(Plane(origin=(0, 0, -80.5), x_dir=(-1, 0, 0), z_dir=(0, 0, -1)), mode=Mode.PRIVATE) as cut_extrude4_sk4:
        with Locations((-25, 30)):
            Circle(SKETCH7_R)
    cut_extrude4_tool4 = extrude(cut_extrude4_sk4.sketch, amount=-CUT_EXTRUDE4_REACH, mode=Mode.PRIVATE) & part.part
    add(cut_extrude4_tool4.solids().sort_by_distance((25, 30, -80.5))[0], mode=Mode.SUBTRACT)

    # Sketch8 → Cut-Extrude5 (cut, up to next)
    with BuildSketch(Plane(origin=(70.5, 0, 0), x_dir=(0, 0, -1), z_dir=(1, 0, 0)), mode=Mode.PRIVATE) as cut_extrude5_sk1:
        with Locations((-35.5, 30)):
            Rectangle(SKETCH8_W, SKETCH8_H)
    cut_extrude5_tool1 = extrude(cut_extrude5_sk1.sketch, amount=-CUT_EXTRUDE5_REACH, mode=Mode.PRIVATE) & part.part
    add(cut_extrude5_tool1.solids().sort_by_distance((70.5, 30, 35.5))[0], mode=Mode.SUBTRACT)
    # Sketch8 → Cut-Extrude5 (cut, up to next)
    with BuildSketch(Plane(origin=(70.5, 0, 0), x_dir=(0, 0, -1), z_dir=(1, 0, 0)), mode=Mode.PRIVATE) as cut_extrude5_sk2:
        with Locations((-43.5, 30)):
            Rectangle(SKETCH8_W, SKETCH8_H)
    cut_extrude5_tool2 = extrude(cut_extrude5_sk2.sketch, amount=-CUT_EXTRUDE5_REACH, mode=Mode.PRIVATE) & part.part
    add(cut_extrude5_tool2.solids().sort_by_distance((70.5, 30, 43.5))[0], mode=Mode.SUBTRACT)
    # Sketch8 → Cut-Extrude5 (cut, up to next)
    with BuildSketch(Plane(origin=(70.5, 0, 0), x_dir=(0, 0, -1), z_dir=(1, 0, 0)), mode=Mode.PRIVATE) as cut_extrude5_sk3:
        with Locations((-27.5, 30)):
            Rectangle(SKETCH8_W, SKETCH8_H)
    cut_extrude5_tool3 = extrude(cut_extrude5_sk3.sketch, amount=-CUT_EXTRUDE5_REACH, mode=Mode.PRIVATE) & part.part
    add(cut_extrude5_tool3.solids().sort_by_distance((70.5, 30, 27.5))[0], mode=Mode.SUBTRACT)
    # Sketch8 → Cut-Extrude5 (cut, up to next)
    with BuildSketch(Plane(origin=(70.5, 0, 0), x_dir=(0, 0, -1), z_dir=(1, 0, 0)), mode=Mode.PRIVATE) as cut_extrude5_sk4:
        with Locations((-19.5, 30)):
            Rectangle(SKETCH8_W, SKETCH8_H)
    cut_extrude5_tool4 = extrude(cut_extrude5_sk4.sketch, amount=-CUT_EXTRUDE5_REACH, mode=Mode.PRIVATE) & part.part
    add(cut_extrude5_tool4.solids().sort_by_distance((70.5, 30, 19.5))[0], mode=Mode.SUBTRACT)
    # Sketch8 → Cut-Extrude5 (cut, up to next)
    with BuildSketch(Plane(origin=(70.5, 0, 0), x_dir=(0, 0, -1), z_dir=(1, 0, 0)), mode=Mode.PRIVATE) as cut_extrude5_sk5:
        with Locations((-11.5, 30)):
            Rectangle(SKETCH8_W, SKETCH8_H)
    cut_extrude5_tool5 = extrude(cut_extrude5_sk5.sketch, amount=-CUT_EXTRUDE5_REACH, mode=Mode.PRIVATE) & part.part
    add(cut_extrude5_tool5.solids().sort_by_distance((70.5, 30, 11.5))[0], mode=Mode.SUBTRACT)
    # Sketch8 → Cut-Extrude5 (cut, up to next)
    with BuildSketch(Plane(origin=(70.5, 0, 0), x_dir=(0, 0, -1), z_dir=(1, 0, 0)), mode=Mode.PRIVATE) as cut_extrude5_sk6:
        with Locations((-3.5, 30)):
            Rectangle(SKETCH8_W, SKETCH8_H)
    cut_extrude5_tool6 = extrude(cut_extrude5_sk6.sketch, amount=-CUT_EXTRUDE5_REACH, mode=Mode.PRIVATE) & part.part
    add(cut_extrude5_tool6.solids().sort_by_distance((70.5, 30, 3.5))[0], mode=Mode.SUBTRACT)
    # Sketch8 → Cut-Extrude5 (cut, up to next)
    with BuildSketch(Plane(origin=(70.5, 0, 0), x_dir=(0, 0, -1), z_dir=(1, 0, 0)), mode=Mode.PRIVATE) as cut_extrude5_sk7:
        with Locations((4.5, 30)):
            Rectangle(SKETCH8_W, SKETCH8_H)
    cut_extrude5_tool7 = extrude(cut_extrude5_sk7.sketch, amount=-CUT_EXTRUDE5_REACH, mode=Mode.PRIVATE) & part.part
    add(cut_extrude5_tool7.solids().sort_by_distance((70.5, 30, -4.5))[0], mode=Mode.SUBTRACT)

    # Sketch9 → Cut-Extrude6 (cut, up to next)
    with BuildSketch(Plane.XY.offset(80.5), mode=Mode.PRIVATE) as cut_extrude6_sk1:
        with Locations((-50.5, 60)):
            Rectangle(SKETCH9_W, SKETCH9_H)
    cut_extrude6_tool1 = extrude(cut_extrude6_sk1.sketch, amount=-CUT_EXTRUDE6_REACH, mode=Mode.PRIVATE) & part.part
    add(cut_extrude6_tool1.solids().sort_by_distance((-50.5, 60, 80.5))[0], mode=Mode.SUBTRACT)
    # Sketch9 → Cut-Extrude6 (cut, up to next)
    with BuildSketch(Plane.XY.offset(80.5), mode=Mode.PRIVATE) as cut_extrude6_sk2:
        with Locations((-58.5, 60)):
            Rectangle(SKETCH9_W, SKETCH9_H)
    cut_extrude6_tool2 = extrude(cut_extrude6_sk2.sketch, amount=-CUT_EXTRUDE6_REACH, mode=Mode.PRIVATE) & part.part
    add(cut_extrude6_tool2.solids().sort_by_distance((-58.5, 60, 80.5))[0], mode=Mode.SUBTRACT)
    # Sketch9 → Cut-Extrude6 (cut, up to next)
    with BuildSketch(Plane.XY.offset(80.5), mode=Mode.PRIVATE) as cut_extrude6_sk3:
        with Locations((-42.5, 60)):
            Rectangle(SKETCH9_W, SKETCH9_H)
    cut_extrude6_tool3 = extrude(cut_extrude6_sk3.sketch, amount=-CUT_EXTRUDE6_REACH, mode=Mode.PRIVATE) & part.part
    add(cut_extrude6_tool3.solids().sort_by_distance((-42.5, 60, 80.5))[0], mode=Mode.SUBTRACT)
    # Sketch9 → Cut-Extrude6 (cut, up to next)
    with BuildSketch(Plane.XY.offset(80.5), mode=Mode.PRIVATE) as cut_extrude6_sk4:
        with Locations((-34.5, 60)):
            Rectangle(SKETCH9_W, SKETCH9_H)
    cut_extrude6_tool4 = extrude(cut_extrude6_sk4.sketch, amount=-CUT_EXTRUDE6_REACH, mode=Mode.PRIVATE) & part.part
    add(cut_extrude6_tool4.solids().sort_by_distance((-34.5, 60, 80.5))[0], mode=Mode.SUBTRACT)
    # Sketch9 → Cut-Extrude6 (cut, up to next)
    with BuildSketch(Plane.XY.offset(80.5), mode=Mode.PRIVATE) as cut_extrude6_sk5:
        with Locations((-26.5, 60)):
            Rectangle(SKETCH9_W, SKETCH9_H)
    cut_extrude6_tool5 = extrude(cut_extrude6_sk5.sketch, amount=-CUT_EXTRUDE6_REACH, mode=Mode.PRIVATE) & part.part
    add(cut_extrude6_tool5.solids().sort_by_distance((-26.5, 60, 80.5))[0], mode=Mode.SUBTRACT)
    # Sketch9 → Cut-Extrude6 (cut, up to next)
    with BuildSketch(Plane.XY.offset(80.5), mode=Mode.PRIVATE) as cut_extrude6_sk6:
        with Locations((-18.5, 60)):
            Rectangle(SKETCH9_W, SKETCH9_H)
    cut_extrude6_tool6 = extrude(cut_extrude6_sk6.sketch, amount=-CUT_EXTRUDE6_REACH, mode=Mode.PRIVATE) & part.part
    add(cut_extrude6_tool6.solids().sort_by_distance((-18.5, 60, 80.5))[0], mode=Mode.SUBTRACT)

    # Sketch11 → Cut-Extrude7 (cut, through all)
    with BuildSketch(Plane.ZY.offset(70.5)):
        with Locations((-72.4, 80)):
            Circle(SKETCH11_R)
        with Locations((72.4, 80)):
            Circle(SKETCH11_R)
    extrude(amount=-CUT_EXTRUDE7_DEPTH, mode=Mode.SUBTRACT)


solid = part.part
